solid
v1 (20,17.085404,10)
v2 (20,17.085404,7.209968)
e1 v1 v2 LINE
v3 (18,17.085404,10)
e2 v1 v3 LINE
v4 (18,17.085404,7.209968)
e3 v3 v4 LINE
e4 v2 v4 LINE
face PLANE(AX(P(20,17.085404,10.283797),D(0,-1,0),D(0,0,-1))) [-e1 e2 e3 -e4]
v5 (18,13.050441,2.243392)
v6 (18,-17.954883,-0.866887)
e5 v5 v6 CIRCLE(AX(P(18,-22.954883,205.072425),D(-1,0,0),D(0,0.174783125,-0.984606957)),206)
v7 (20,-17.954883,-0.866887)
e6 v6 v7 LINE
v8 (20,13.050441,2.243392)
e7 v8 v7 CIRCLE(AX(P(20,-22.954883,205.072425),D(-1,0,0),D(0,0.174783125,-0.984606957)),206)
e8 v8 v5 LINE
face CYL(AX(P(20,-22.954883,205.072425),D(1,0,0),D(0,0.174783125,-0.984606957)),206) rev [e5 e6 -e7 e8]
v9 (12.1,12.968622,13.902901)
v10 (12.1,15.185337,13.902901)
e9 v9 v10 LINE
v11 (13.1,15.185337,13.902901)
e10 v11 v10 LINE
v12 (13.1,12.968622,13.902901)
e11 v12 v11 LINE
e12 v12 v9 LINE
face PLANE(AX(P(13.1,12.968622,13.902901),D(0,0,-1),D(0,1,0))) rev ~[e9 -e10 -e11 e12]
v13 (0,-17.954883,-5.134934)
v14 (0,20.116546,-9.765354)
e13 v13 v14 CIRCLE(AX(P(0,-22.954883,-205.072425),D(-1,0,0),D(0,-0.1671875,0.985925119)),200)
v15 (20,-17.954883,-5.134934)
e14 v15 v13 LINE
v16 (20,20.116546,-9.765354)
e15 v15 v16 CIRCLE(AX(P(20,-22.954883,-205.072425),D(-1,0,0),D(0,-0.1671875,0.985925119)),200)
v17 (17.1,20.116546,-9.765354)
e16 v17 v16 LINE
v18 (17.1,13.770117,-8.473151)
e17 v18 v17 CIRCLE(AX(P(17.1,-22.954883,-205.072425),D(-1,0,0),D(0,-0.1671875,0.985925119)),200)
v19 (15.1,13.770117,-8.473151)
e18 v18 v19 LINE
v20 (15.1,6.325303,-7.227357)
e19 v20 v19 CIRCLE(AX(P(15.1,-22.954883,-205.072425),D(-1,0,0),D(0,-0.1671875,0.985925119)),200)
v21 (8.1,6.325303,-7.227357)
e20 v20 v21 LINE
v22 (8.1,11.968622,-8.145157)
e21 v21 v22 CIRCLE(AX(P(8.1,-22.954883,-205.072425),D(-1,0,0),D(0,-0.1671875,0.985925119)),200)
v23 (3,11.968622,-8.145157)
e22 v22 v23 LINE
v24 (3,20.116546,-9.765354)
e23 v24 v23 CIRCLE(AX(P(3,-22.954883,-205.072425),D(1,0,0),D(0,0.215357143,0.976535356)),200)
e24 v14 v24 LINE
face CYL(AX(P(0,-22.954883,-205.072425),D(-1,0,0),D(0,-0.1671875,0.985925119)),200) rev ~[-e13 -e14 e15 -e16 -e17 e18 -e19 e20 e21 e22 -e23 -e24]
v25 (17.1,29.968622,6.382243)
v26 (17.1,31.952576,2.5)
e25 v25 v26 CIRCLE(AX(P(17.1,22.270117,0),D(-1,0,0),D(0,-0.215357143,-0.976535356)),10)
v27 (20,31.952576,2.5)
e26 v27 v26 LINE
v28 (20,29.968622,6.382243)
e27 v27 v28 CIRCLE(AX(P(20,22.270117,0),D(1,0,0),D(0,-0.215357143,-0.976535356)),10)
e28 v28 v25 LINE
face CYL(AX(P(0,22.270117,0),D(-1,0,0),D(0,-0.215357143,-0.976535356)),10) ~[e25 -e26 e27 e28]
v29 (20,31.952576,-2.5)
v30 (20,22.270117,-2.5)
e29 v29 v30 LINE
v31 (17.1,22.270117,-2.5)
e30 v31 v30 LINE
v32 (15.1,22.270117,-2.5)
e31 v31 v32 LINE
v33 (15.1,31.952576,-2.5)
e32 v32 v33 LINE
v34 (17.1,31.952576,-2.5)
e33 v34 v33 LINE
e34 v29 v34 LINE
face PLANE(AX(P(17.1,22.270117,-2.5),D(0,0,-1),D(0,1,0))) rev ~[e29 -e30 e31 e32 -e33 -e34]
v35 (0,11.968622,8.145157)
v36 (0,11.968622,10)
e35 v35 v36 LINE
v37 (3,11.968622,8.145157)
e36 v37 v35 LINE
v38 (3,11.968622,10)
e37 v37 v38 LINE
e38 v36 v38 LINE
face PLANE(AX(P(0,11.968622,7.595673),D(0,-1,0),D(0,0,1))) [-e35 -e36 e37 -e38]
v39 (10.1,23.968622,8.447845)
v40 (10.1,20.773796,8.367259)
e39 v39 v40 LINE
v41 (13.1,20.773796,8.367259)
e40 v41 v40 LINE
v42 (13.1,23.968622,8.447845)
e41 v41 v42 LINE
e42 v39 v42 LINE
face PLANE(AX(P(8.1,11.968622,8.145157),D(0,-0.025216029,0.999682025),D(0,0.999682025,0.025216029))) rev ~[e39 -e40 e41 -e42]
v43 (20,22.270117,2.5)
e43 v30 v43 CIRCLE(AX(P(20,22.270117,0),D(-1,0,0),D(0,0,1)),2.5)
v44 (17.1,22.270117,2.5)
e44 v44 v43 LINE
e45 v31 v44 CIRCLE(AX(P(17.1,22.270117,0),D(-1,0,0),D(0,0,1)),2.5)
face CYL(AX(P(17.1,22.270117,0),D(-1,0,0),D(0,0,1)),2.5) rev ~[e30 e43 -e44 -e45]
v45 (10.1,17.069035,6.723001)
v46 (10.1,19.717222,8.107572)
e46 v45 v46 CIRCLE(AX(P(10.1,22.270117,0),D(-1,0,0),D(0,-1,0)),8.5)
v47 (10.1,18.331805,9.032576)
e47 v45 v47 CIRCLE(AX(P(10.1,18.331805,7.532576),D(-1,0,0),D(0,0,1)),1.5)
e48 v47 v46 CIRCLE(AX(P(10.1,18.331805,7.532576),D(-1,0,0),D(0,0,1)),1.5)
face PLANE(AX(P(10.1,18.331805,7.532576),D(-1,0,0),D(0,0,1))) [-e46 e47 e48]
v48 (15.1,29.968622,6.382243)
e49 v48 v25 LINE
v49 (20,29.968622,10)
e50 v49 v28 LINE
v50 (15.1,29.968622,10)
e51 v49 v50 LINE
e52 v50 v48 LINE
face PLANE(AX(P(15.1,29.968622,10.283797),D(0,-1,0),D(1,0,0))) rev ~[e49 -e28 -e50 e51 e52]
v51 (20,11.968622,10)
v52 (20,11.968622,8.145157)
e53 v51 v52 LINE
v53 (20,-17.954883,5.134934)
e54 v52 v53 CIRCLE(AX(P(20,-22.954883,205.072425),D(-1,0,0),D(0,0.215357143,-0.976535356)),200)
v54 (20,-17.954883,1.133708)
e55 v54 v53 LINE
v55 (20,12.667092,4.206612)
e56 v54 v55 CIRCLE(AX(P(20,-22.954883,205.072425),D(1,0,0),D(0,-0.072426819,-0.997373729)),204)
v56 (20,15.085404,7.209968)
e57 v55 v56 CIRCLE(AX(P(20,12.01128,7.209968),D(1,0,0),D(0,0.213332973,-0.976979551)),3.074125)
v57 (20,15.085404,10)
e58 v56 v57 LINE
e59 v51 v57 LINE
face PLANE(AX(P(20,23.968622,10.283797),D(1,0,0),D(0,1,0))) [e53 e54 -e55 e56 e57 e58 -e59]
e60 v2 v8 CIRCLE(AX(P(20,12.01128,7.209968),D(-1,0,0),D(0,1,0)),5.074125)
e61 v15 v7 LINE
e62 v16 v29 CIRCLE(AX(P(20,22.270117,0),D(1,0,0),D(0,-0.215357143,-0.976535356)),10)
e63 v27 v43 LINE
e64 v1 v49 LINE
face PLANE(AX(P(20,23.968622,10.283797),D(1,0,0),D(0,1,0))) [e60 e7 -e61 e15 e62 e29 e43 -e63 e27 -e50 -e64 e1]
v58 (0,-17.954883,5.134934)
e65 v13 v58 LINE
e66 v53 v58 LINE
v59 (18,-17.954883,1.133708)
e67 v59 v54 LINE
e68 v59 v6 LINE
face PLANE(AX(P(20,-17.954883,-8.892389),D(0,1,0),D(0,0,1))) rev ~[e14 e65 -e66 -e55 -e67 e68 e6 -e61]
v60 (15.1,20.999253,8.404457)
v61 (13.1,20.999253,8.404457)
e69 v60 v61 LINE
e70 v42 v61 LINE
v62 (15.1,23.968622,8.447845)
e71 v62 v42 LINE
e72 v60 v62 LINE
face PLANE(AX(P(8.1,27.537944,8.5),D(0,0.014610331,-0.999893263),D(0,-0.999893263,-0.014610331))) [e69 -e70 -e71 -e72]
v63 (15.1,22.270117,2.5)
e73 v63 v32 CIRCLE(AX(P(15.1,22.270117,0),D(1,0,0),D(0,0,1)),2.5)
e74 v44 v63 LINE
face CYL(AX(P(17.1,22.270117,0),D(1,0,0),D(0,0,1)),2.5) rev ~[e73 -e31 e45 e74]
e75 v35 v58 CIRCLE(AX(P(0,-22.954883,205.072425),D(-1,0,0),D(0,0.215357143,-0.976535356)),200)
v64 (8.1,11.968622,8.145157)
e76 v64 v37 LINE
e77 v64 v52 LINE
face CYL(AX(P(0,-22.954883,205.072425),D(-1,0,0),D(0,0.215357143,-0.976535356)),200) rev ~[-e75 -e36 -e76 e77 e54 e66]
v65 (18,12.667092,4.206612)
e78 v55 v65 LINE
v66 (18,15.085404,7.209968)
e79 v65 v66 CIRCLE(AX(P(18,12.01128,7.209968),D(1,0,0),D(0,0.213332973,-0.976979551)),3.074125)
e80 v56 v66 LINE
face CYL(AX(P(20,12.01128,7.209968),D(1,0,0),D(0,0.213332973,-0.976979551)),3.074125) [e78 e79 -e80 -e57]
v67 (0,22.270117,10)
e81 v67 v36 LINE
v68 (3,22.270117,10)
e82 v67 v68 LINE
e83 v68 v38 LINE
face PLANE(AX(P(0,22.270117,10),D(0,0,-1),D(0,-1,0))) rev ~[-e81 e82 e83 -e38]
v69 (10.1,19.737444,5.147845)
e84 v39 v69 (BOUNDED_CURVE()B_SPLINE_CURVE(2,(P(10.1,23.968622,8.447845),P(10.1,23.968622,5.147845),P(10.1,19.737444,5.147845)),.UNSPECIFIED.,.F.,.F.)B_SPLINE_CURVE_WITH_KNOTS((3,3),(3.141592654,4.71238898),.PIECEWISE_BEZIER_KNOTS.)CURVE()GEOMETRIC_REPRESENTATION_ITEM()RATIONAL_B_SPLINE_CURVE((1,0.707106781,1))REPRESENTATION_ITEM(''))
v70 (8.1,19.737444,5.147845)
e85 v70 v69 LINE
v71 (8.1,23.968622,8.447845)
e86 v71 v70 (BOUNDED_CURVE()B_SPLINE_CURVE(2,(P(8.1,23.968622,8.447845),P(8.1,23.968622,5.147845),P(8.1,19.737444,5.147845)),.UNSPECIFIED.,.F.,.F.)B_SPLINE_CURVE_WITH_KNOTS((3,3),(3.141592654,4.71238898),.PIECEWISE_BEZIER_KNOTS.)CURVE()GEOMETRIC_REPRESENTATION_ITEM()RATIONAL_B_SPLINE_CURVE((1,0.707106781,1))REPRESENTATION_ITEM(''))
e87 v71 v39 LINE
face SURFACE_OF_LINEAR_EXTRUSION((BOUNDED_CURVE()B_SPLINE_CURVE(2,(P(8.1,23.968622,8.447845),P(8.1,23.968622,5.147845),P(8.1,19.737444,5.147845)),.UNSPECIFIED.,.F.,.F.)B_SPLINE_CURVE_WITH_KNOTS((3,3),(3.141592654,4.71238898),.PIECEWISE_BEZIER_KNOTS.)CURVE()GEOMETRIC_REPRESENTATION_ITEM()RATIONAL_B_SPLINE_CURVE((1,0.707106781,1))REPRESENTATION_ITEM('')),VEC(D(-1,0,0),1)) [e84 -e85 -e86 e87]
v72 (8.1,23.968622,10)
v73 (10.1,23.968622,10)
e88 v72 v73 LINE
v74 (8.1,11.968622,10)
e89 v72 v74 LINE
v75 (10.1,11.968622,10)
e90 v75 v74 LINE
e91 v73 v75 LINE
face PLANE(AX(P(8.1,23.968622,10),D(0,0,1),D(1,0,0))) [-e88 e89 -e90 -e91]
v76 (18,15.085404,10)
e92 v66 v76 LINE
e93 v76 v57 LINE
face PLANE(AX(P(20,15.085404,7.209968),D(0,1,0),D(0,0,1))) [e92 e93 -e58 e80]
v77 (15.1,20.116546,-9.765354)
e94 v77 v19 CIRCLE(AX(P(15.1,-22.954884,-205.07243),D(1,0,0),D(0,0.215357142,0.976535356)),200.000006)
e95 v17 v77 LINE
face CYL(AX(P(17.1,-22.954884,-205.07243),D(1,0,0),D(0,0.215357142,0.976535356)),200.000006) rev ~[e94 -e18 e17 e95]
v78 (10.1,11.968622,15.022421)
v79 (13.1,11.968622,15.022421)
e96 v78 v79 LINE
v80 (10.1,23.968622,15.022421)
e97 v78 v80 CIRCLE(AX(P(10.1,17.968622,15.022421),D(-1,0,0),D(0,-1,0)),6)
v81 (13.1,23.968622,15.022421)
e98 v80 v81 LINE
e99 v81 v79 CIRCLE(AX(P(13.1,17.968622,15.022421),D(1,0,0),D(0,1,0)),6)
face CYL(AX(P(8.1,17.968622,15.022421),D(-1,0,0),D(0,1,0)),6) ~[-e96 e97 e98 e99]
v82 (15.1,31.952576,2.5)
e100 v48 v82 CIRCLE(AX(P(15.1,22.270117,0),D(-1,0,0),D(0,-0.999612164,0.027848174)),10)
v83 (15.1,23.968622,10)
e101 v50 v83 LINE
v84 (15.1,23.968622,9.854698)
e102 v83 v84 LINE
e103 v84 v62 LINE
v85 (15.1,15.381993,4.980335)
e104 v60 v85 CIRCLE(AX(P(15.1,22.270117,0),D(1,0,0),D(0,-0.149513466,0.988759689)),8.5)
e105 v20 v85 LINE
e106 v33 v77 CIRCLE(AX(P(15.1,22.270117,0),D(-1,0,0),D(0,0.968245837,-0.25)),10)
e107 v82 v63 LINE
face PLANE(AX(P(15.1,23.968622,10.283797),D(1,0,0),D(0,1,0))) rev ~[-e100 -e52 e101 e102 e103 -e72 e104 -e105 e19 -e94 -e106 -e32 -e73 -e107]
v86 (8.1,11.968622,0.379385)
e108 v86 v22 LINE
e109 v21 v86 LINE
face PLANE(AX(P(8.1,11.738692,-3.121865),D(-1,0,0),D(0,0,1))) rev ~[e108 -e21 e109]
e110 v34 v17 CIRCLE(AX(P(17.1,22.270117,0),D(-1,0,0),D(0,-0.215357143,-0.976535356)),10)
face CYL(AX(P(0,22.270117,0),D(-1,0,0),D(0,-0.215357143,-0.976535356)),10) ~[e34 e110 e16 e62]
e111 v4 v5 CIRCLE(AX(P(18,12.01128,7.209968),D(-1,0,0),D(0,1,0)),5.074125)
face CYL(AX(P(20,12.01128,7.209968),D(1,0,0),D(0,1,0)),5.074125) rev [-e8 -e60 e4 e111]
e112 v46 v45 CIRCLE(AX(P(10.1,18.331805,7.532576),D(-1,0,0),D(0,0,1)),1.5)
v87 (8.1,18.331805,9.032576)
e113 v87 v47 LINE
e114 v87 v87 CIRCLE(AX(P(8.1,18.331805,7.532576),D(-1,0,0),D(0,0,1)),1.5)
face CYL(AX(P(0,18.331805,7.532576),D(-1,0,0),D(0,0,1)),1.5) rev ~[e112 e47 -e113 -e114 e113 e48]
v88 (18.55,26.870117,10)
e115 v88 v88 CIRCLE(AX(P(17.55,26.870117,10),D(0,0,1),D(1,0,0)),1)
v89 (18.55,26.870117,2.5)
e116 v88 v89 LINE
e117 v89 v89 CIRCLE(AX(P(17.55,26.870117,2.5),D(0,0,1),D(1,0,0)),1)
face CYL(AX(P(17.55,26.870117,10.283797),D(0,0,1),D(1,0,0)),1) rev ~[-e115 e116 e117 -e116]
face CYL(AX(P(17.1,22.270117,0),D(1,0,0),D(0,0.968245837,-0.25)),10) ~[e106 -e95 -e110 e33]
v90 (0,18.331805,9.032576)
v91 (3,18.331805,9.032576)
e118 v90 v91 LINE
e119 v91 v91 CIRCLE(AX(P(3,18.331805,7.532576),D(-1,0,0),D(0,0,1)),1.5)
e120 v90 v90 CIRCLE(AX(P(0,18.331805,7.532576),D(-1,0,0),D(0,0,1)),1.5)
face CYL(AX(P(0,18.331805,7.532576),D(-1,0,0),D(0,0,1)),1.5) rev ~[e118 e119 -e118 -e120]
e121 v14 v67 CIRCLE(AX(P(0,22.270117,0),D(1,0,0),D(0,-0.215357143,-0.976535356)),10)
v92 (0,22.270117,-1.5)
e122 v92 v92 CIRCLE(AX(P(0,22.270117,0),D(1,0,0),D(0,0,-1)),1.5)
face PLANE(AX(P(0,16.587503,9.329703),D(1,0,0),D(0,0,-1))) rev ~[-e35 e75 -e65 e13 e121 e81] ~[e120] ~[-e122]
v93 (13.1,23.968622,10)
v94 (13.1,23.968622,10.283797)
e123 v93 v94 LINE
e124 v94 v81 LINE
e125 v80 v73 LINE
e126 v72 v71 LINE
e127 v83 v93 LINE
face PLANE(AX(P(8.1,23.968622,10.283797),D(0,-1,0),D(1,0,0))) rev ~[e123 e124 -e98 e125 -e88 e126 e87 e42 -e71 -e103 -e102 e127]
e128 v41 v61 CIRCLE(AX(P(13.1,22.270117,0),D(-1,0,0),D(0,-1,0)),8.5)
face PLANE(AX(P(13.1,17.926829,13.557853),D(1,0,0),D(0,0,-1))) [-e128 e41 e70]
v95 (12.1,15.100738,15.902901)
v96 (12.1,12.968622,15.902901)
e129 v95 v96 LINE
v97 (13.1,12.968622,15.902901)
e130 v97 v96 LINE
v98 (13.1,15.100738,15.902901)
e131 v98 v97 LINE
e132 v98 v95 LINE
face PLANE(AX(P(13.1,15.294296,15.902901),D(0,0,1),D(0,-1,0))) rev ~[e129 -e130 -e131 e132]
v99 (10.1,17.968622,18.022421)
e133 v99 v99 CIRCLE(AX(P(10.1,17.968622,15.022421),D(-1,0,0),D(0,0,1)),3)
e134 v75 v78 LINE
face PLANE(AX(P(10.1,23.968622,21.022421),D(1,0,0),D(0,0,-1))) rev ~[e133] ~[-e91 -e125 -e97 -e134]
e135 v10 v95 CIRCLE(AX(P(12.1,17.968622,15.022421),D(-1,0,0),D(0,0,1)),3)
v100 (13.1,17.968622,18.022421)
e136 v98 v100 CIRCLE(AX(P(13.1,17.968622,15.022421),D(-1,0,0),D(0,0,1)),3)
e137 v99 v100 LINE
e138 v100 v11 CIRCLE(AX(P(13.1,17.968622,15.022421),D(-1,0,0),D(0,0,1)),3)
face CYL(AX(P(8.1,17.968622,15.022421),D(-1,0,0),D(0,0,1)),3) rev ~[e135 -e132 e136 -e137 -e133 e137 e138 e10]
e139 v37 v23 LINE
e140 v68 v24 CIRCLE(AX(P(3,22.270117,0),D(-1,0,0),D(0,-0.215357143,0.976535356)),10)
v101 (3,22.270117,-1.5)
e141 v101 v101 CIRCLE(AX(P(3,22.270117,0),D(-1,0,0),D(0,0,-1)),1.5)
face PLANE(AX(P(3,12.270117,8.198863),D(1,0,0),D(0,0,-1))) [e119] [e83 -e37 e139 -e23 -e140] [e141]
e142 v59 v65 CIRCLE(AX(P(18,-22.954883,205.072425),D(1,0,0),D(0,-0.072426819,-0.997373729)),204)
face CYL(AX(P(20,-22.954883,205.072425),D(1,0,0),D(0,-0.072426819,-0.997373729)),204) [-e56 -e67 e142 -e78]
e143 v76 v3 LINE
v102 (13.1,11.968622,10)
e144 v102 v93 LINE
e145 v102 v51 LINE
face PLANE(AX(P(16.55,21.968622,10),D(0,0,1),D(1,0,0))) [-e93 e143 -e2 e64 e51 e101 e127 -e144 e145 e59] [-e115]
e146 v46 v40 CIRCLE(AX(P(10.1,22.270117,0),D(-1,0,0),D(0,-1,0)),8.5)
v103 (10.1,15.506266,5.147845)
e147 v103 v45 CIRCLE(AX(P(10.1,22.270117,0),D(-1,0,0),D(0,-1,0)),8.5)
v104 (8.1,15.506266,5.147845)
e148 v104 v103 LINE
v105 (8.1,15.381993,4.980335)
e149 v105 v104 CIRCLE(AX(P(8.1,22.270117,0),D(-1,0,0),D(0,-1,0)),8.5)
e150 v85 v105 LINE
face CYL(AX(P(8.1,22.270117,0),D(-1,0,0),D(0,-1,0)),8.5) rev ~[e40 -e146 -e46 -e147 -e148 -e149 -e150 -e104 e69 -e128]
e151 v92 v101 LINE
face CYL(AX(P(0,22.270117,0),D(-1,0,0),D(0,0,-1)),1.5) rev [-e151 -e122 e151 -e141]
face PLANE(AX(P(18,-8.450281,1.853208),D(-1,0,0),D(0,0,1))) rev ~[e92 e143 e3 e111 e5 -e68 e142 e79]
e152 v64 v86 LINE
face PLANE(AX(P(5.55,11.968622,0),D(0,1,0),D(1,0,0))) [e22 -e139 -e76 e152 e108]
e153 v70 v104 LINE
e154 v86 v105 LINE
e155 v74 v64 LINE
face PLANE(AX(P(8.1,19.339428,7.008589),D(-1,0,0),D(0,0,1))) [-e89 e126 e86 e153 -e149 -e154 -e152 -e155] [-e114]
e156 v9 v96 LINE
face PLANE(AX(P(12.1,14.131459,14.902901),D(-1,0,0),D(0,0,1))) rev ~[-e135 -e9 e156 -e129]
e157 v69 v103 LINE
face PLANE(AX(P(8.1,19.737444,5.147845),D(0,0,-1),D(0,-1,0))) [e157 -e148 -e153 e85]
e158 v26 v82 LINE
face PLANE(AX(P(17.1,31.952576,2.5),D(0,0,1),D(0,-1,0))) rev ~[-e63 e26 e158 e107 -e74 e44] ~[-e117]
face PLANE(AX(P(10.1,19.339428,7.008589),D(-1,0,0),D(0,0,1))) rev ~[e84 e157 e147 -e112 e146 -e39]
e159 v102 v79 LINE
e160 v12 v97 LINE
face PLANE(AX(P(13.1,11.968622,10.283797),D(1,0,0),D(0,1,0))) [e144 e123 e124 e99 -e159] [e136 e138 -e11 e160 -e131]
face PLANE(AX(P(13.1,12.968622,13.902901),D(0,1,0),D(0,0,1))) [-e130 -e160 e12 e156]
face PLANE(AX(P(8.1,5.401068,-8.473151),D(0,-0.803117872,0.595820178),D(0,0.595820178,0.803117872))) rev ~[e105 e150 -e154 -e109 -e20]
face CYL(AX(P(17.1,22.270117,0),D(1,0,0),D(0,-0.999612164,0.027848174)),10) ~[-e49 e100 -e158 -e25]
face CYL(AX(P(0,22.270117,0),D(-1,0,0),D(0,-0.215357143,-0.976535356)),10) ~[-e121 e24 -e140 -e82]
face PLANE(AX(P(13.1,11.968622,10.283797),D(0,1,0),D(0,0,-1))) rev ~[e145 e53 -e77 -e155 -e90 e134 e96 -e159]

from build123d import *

# Parameters (mm, degrees)
SKETCH1_R                = 1.5
SKETCH1_R_2              = 2.5
BOSS_EXTRUDE1_DEPTH      = 20
SKETCH2_W                = 8.1
SKETCH2_H                = 20
SKETCH2_W_2              = 5.2
SKETCH2_W_3              = 5.1
CUT_EXTRUDE1_DEPTH       = 20
CUT_EXTRUDE1_DEPTH_BACK  = 20
CUT_EXTRUDE2_DEPTH       = 9
BOSS_EXTRUDE2_DEPTH      = 11.9
SKETCH5_R                = 3
BOSS_EXTRUDE3_DEPTH      = 5
CUT_EXTRUDE6_DEPTH       = 1
SKETCH13_R               = 2.5
CUT_EXTRUDE7_DEPTH       = 4
BOSS_EXTRUDE4_DEPTH      = 3
CUT_EXTRUDE9_DEPTH       = 3
SKETCH17_W               = 9
SKETCH17_H               = 3.569322199
CUT_EXTRUDE11_DEPTH      = 3
SKETCH18_W               = 5.770974844
SKETCH18_H               = 0.772936936
BOSS_EXTRUDE5_DEPTH      = 6.9
BOSS_EXTRUDE5_DEPTH_BACK = 1
SKETCH19_W               = 5.1
SKETCH19_H               = 16.397725614
CUT_EXTRUDE12_DEPTH      = 0.301495
SKETCH20_W               = 5
SKETCH20_H               = 12.419235667
CUT_EXTRUDE13_DEPTH      = 10
BOSS_EXTRUDE6_DEPTH      = 2
SKETCH23_W               = 4.9
SKETCH23_H               = 6
BOSS_EXTRUDE7_DEPTH      = 4
SKETCH22_R               = 1
CUT_EXTRUDE15_DEPTH      = 8
BOSS_EXTRUDE8_DEPTH      = 2
SKETCH14_R               = 1.5
CUT_EXTRUDE8_DEPTH       = 10.1
CUT_EXTRUDE17_DEPTH      = 8.1
CUT_EXTRUDE17_DEPTH_BACK = 2
CUT_EXTRUDE18_DEPTH      = 2
CUT_EXTRUDE20_DEPTH      = 5.2
SKETCH30_W               = 6.9
SKETCH30_H               = 20
CUT_EXTRUDE21_DEPTH      = 0.283797
CUT_EXTRUDE22_REACH      = 91.699
SKETCH31_W               = 2
SKETCH31_H               = 11.022421386
CUT_EXTRUDE23_DEPTH      = 7
CUT_EXTRUDE24_DEPTH      = 21
SKETCH34_W               = 60.526432738
SKETCH34_H               = 58.455185991
CUT_EXTRUDE25_DEPTH      = 21


with BuildPart() as part:
    # Sketch1 → Boss-Extrude1 (new body)
    with BuildSketch(Plane(origin=(0, 0, 0), x_dir=(0, 0, -1), z_dir=(1, 0, 0))):
        with BuildLine():
            ThreePointArc((9.765353557, 20.116545894), (0, 32.270117322), (-9.765353557, 20.116545894))
            ThreePointArc((-9.765353557, 20.116545894), (-5.132645827, -18.047253777), (-7.88740095, -56.392382678))
            ThreePointArc((-7.88740095, -56.392382678), (0, -65.729882678), (7.88740095, -56.392382678))
            ThreePointArc((7.88740095, -56.392382678), (5.132645827, -18.047253777), (9.765353557, 20.116545894))
        make_face()
        with Locations((0, 22.270117322)):
            Circle(SKETCH1_R, mode=Mode.SUBTRACT)
        with Locations((0, -57.729882678)):
            Circle(SKETCH1_R_2, mode=Mode.SUBTRACT)
    extrude(amount=BOSS_EXTRUDE1_DEPTH)

    # Sketch2 → Cut-Extrude1 (cut, two sides)
    with BuildSketch(Plane.XY) as cut_extrude1_sk:
        with Locations((4.05, -55.729882678)):
            Rectangle(SKETCH2_W, SKETCH2_H)
        with Locations((17.4, -55.729882678)):
            Rectangle(SKETCH2_W_2, SKETCH2_H)
        with Locations((5.55, 22.270117322)):
            Rectangle(SKETCH2_W_3, SKETCH2_H)
    extrude(amount=CUT_EXTRUDE1_DEPTH, mode=Mode.SUBTRACT)
    extrude(cut_extrude1_sk.sketch, amount=-CUT_EXTRUDE1_DEPTH_BACK, mode=Mode.SUBTRACT)

    # Sketch3 → Cut-Extrude2 (cut)
    with BuildSketch(Plane.ZY.offset(-8.1)):
        with BuildLine():
            Line((8.5, 22.270117322), (8.5, 40.909533312))
            Line((8.5, 40.909533312), (-17.52872033, 40.909533312))
            Line((-17.52872033, 40.909533312), (-17.52872033, 13.770117322))
            Line((-17.52872033, 13.770117322), (0, 13.770117322))
            ThreePointArc((0, 13.770117322), (6.01040764, 16.259709682), (8.5, 22.270117322))
        make_face()
    extrude(amount=-CUT_EXTRUDE2_DEPTH, mode=Mode.SUBTRACT)

    # Sketch4 → Boss-Extrude2 (add, through all)
    with BuildSketch(Plane.ZY.offset(-8.1)):
        Polygon((8.5, 27.537944199), (8.283796844, 12.741558936), (10.283796844, 12.741558936), (10.283796844, 27.537944199), align=None)
    extrude(amount=-BOSS_EXTRUDE2_DEPTH)

    # Sketch5 → Boss-Extrude3 (add)
    with BuildSketch(Plane.ZY.offset(-8.1)):
        with BuildLine():
            Line((8.145156861, 11.968622), (8.447845456, 23.968622))
            Line((8.447845456, 23.968622), (9.854698466, 23.968622))
            Line((9.854698466, 23.968622), (15.022421386, 23.968622))
            ThreePointArc((15.022421386, 23.968622), (21.022421386, 17.968622), (15.022421386, 11.968622))
            Line((15.022421386, 11.968622), (8.145156861, 11.968622))
        make_face()
        with Locations((15.022421386, 17.968622)):
            Circle(SKETCH5_R, mode=Mode.SUBTRACT)
    extrude(amount=-BOSS_EXTRUDE3_DEPTH)

    # Sketch12 → Cut-Extrude6 (cut)
    with BuildSketch(Plane(origin=(13.1, 0, 0), x_dir=(0, 0, -1), z_dir=(1, 0, 0))):
        Polygon((-13.902900694, 14.968622), (-13.902900694, 12.968622), (-15.902900694, 12.968622), (-15.902900694, 14.968622), (-15.902900694, 15.294296094), (-13.902900694, 15.294296094), align=None)
    extrude(amount=-CUT_EXTRUDE6_DEPTH, mode=Mode.SUBTRACT)

    # Sketch13 → Cut-Extrude7 (cut)
    with BuildSketch(Plane.ZY.offset(-17.1)):
        with Locations((0, 22.270117322)):
            Circle(SKETCH13_R)
    extrude(amount=-CUT_EXTRUDE7_DEPTH, mode=Mode.SUBTRACT)

    # Sketch15 → Boss-Extrude4 (add)
    with BuildSketch(Plane.ZY):
        Polygon((10, 22.270117322), (10, 11.968622), (8.145156861, 11.968622), (7.595672539, 11.968622), align=None)
    extrude(amount=-BOSS_EXTRUDE4_DEPTH)

    # Sketch16 → Cut-Extrude9 (cut)
    with BuildSketch(Plane(origin=(20, 0, 0), x_dir=(0, 0, -1), z_dir=(1, 0, 0))):
        with BuildLine():
            Line((-10.283796844, 23.968622), (-9.854698466, 23.968622))
            ThreePointArc((-9.854698466, 23.968622), (-9.349264901, 25.818531871), (-8.5, 27.537944199))
            Line((-8.5, 27.537944199), (-10.283796844, 27.537944199))
            Line((-10.283796844, 27.537944199), (-10.283796844, 23.968622))
        make_face()
    extrude(amount=-CUT_EXTRUDE9_DEPTH, mode=Mode.SUBTRACT)

    # Sketch17 → Cut-Extrude11 (cut)
    with BuildSketch(Plane.XY.offset(10.283796844)):
        with Locations((12.6, 25.7532831)):
            Rectangle(SKETCH17_W, SKETCH17_H)
    extrude(amount=-CUT_EXTRUDE11_DEPTH, mode=Mode.SUBTRACT)

    # Sketch18 → Boss-Extrude5 (add, two sides)
    with BuildSketch(Plane(origin=(13.1, 0, 0), x_dir=(0, 0, -1), z_dir=(1, 0, 0))) as boss_extrude5_sk:
        with Locations((-7.398309422, 12.355090468)):
            Rectangle(SKETCH18_W, SKETCH18_H)
    extrude(amount=BOSS_EXTRUDE5_DEPTH)
    extrude(boss_extrude5_sk.sketch, amount=-BOSS_EXTRUDE5_DEPTH_BACK)

    # Sketch19 → Cut-Extrude12 (cut)
    with BuildSketch(Plane(origin=(0, 12.270117322, 0), x_dir=(1, 0, 0), z_dir=(0, 1, 0))):
        with Locations((5.55, 0)):
            Rectangle(SKETCH19_W, SKETCH19_H)
    extrude(amount=-CUT_EXTRUDE12_DEPTH, mode=Mode.SUBTRACT)

    # Sketch20 → Cut-Extrude13 (cut)
    with BuildSketch(Plane.ZY.offset(-17.1)):
        with Locations((0, 28.479735156)):
            Rectangle(SKETCH20_W, SKETCH20_H)
    extrude(amount=-CUT_EXTRUDE13_DEPTH, mode=Mode.SUBTRACT)

    # Sketch21 → Boss-Extrude6 (add)
    with BuildSketch(Plane.ZY.offset(-17.1)):
        with BuildLine():
            Line((-8.473151119, 13.770117322), (0.278481736, 12.273995678))
            ThreePointArc((0.278481736, 12.273995678), (9.936881703, 21.148341047), (2.5, 31.952575688))
            Line((2.5, 31.952575688), (2.5, 22.270117322))
            ThreePointArc((2.5, 22.270117322), (0, 19.770117322), (-2.5, 22.270117322))
            Line((-2.5, 22.270117322), (-2.5, 31.952575688))
            ThreePointArc((-2.5, 31.952575688), (-8.522477621, 27.501501002), (-9.765353557, 20.116545894))
            ThreePointArc((-9.765353557, 20.116545894), (-9.093560923, 16.948562662), (-8.473151119, 13.770117322))
        make_face()
    extrude(amount=BOSS_EXTRUDE6_DEPTH)

    # Sketch23 → Boss-Extrude7 (add)
    with BuildSketch(Plane.XY.offset(10.283796844)):
        with Locations((17.55, 26.968622)):
            Rectangle(SKETCH23_W, SKETCH23_H)
    extrude(amount=-BOSS_EXTRUDE7_DEPTH)

    # Sketch22 → Cut-Extrude15 (cut)
    with BuildSketch(Plane.XY.offset(10.283796844)):
        with Locations((17.55, 26.870117322)):
            Circle(SKETCH22_R)
    extrude(amount=-CUT_EXTRUDE15_DEPTH, mode=Mode.SUBTRACT)

    # Sketch24 → Boss-Extrude8 (add)
    with BuildSketch(Plane.ZY.offset(-8.1)):
        with BuildLine():
            Line((5.147845456, 19.737443909), (5.147845456, 15.506265819))
            Line((5.147845456, 15.506265819), (8.447845456, 15.506265819))
            Line((8.447845456, 15.506265819), (8.447845456, 23.968622))
            add(Edge.make_bspline(
                [(8.447845456, 23.968622), (5.147845456, 23.968622), (5.147845456, 19.737443909)],
                knots=[3.141592654, 3.141592654, 3.141592654, 4.71238898, 4.71238898, 4.71238898], degree=2, weights=[1, 0.707106781, 1]))
        make_face()
    extrude(amount=-BOSS_EXTRUDE8_DEPTH)

    # Sketch14 → Cut-Extrude8 (cut)
    with BuildSketch(Plane.ZY):
        with Locations((7.532575614, 18.331804915)):
            Circle(SKETCH14_R)
    extrude(amount=-CUT_EXTRUDE8_DEPTH, mode=Mode.SUBTRACT)

    # Sketch25 → Cut-Extrude17 (cut, two sides)
    with BuildSketch(Plane.ZY.offset(-8.1)) as cut_extrude17_sk:
        with BuildLine():
            Line((12, -45.729882678), (8.346153846, -36.960651908))
            ThreePointArc((8.346153846, -36.960651908), (6.973852263, -42.37911752), (2.5, -45.729882678))
            Line((2.5, -45.729882678), (2.5, -53.227383372))
            ThreePointArc((2.5, -53.227383372), (0, -62.879882678), (-2.5, -53.227383372))
            Line((-2.5, -53.227383372), (-2.5, -45.729882678))
            ThreePointArc((-2.5, -45.729882678), (-6.973852263, -42.37911752), (-8.346153846, -36.960651908))
            Line((-8.346153846, -36.960651908), (-12, -45.729882678))
            Line((-12, -45.729882678), (-12, -57.729882678))
            ThreePointArc((-12, -57.729882678), (0, -69.729882678), (12, -57.729882678))
            Line((12, -57.729882678), (12, -45.729882678))
        make_face()
    extrude(amount=CUT_EXTRUDE17_DEPTH, mode=Mode.SUBTRACT)
    extrude(cut_extrude17_sk.sketch, amount=-CUT_EXTRUDE17_DEPTH_BACK, mode=Mode.SUBTRACT)

    # Sketch26 → Cut-Extrude18 (cut)
    with BuildSketch(Plane(origin=(20, 0, 0), x_dir=(0, 0, -1), z_dir=(1, 0, 0))):
        with BuildLine():
            Line((-7.209968303, 15.085404497), (-10.283796844, 15.085404497))
            Line((-10.283796844, 15.085404497), (-10.283796844, 17.085404497))
            Line((-10.283796844, 17.085404497), (-7.209968303, 17.085404497))
            ThreePointArc((-7.209968303, 17.085404497), (-4.010444351, 15.949526558), (-2.243391617, 13.050441039))
            ThreePointArc((-2.243391617, 13.050441039), (0.649659998, -12.257973546), (0.397031114, -37.729953741))
            Line((0.397031114, -37.729953741), (-1.608183929, -37.729953741))
            ThreePointArc((-1.608183929, -37.729953741), (-1.343036313, -12.450773719), (-4.206611504, 12.667092093))
            ThreePointArc((-4.206611504, 12.667092093), (-5.281990934, 14.405678614), (-7.209968303, 15.085404497))
        make_face()
    extrude(amount=-CUT_EXTRUDE18_DEPTH, mode=Mode.SUBTRACT)

    # Sketch29 → Cut-Extrude20 (cut)
    with BuildSketch(Plane(origin=(20, 0, 0), x_dir=(0, 0, -1), z_dir=(1, 0, 0))):
        with BuildLine():
            Line((8, -37.729882678), (8.140336581, -37.729882678))
            Line((8.140336581, -37.729882678), (8.140336581, -45.937498976))
            Line((8.140336581, -45.937498976), (-15.754893946, -45.937498976))
            Line((-15.754893946, -45.937498976), (-15.754893946, -37.729882678))
            Line((-15.754893946, -37.729882678), (-8, -37.729882678))
            ThreePointArc((-8, -37.729882678), (0, -45.729882678), (8, -37.729882678))
        make_face()
    extrude(amount=-CUT_EXTRUDE20_DEPTH, mode=Mode.SUBTRACT)

    # Sketch30 → Cut-Extrude21 (cut)
    with BuildSketch(Plane.XY.offset(10.283796844)):
        with Locations((16.55, 21.968622)):
            Rectangle(SKETCH30_W, SKETCH30_H)
    extrude(amount=-CUT_EXTRUDE21_DEPTH, mode=Mode.SUBTRACT)

    # Sketch31 → Cut-Extrude22 (cut, up to next)
    with BuildSketch(Plane(origin=(0, 23.968622, 0), x_dir=(1, 0, 0), z_dir=(0, 1, 0)), mode=Mode.PRIVATE) as cut_extrude22_sk1:
        with Locations((9.1, -15.511210693)):
            Rectangle(SKETCH31_W, SKETCH31_H)
    cut_extrude22_tool1 = extrude(cut_extrude22_sk1.sketch, amount=-CUT_EXTRUDE22_REACH, mode=Mode.PRIVATE) & part.part
    add(cut_extrude22_tool1.solids().sort_by_distance((9.1, 23.968622, 15.511211))[0], mode=Mode.SUBTRACT)

    # Sketch32 → Cut-Extrude23 (cut)
    with BuildSketch(Plane.ZY.offset(-8.1)):
        Polygon((-8.473151119, 13.770117322), (-8.473151119, 5.401068454), (5.147845456, 15.506265819), align=None)
    extrude(amount=-CUT_EXTRUDE23_DEPTH, mode=Mode.SUBTRACT)

    # Sketch33 → Cut-Extrude24 (cut, through all)
    with BuildSketch(Plane(origin=(20, 0, 0), x_dir=(0, 0, -1), z_dir=(1, 0, 0))):
        Polygon((-9.30475326, -22.954882678), (-9.30475326, -27.954882678), (8.892389241, -27.954882678), (8.892389241, -22.954882678), (8.892389241, -17.954882678), (-9.30475326, -17.954882678), align=None)
    extrude(amount=-CUT_EXTRUDE24_DEPTH, mode=Mode.SUBTRACT)

    # Sketch34 → Cut-Extrude25 (cut, through all)
    with BuildSketch(Plane(origin=(20, 0, 0), x_dir=(0, 0, -1), z_dir=(1, 0, 0))):
        with Locations((-5.515206789, -53.322694673)):
            Rectangle(SKETCH34_W, SKETCH34_H)
    extrude(amount=-CUT_EXTRUDE25_DEPTH, mode=Mode.SUBTRACT)


solid = part.part
